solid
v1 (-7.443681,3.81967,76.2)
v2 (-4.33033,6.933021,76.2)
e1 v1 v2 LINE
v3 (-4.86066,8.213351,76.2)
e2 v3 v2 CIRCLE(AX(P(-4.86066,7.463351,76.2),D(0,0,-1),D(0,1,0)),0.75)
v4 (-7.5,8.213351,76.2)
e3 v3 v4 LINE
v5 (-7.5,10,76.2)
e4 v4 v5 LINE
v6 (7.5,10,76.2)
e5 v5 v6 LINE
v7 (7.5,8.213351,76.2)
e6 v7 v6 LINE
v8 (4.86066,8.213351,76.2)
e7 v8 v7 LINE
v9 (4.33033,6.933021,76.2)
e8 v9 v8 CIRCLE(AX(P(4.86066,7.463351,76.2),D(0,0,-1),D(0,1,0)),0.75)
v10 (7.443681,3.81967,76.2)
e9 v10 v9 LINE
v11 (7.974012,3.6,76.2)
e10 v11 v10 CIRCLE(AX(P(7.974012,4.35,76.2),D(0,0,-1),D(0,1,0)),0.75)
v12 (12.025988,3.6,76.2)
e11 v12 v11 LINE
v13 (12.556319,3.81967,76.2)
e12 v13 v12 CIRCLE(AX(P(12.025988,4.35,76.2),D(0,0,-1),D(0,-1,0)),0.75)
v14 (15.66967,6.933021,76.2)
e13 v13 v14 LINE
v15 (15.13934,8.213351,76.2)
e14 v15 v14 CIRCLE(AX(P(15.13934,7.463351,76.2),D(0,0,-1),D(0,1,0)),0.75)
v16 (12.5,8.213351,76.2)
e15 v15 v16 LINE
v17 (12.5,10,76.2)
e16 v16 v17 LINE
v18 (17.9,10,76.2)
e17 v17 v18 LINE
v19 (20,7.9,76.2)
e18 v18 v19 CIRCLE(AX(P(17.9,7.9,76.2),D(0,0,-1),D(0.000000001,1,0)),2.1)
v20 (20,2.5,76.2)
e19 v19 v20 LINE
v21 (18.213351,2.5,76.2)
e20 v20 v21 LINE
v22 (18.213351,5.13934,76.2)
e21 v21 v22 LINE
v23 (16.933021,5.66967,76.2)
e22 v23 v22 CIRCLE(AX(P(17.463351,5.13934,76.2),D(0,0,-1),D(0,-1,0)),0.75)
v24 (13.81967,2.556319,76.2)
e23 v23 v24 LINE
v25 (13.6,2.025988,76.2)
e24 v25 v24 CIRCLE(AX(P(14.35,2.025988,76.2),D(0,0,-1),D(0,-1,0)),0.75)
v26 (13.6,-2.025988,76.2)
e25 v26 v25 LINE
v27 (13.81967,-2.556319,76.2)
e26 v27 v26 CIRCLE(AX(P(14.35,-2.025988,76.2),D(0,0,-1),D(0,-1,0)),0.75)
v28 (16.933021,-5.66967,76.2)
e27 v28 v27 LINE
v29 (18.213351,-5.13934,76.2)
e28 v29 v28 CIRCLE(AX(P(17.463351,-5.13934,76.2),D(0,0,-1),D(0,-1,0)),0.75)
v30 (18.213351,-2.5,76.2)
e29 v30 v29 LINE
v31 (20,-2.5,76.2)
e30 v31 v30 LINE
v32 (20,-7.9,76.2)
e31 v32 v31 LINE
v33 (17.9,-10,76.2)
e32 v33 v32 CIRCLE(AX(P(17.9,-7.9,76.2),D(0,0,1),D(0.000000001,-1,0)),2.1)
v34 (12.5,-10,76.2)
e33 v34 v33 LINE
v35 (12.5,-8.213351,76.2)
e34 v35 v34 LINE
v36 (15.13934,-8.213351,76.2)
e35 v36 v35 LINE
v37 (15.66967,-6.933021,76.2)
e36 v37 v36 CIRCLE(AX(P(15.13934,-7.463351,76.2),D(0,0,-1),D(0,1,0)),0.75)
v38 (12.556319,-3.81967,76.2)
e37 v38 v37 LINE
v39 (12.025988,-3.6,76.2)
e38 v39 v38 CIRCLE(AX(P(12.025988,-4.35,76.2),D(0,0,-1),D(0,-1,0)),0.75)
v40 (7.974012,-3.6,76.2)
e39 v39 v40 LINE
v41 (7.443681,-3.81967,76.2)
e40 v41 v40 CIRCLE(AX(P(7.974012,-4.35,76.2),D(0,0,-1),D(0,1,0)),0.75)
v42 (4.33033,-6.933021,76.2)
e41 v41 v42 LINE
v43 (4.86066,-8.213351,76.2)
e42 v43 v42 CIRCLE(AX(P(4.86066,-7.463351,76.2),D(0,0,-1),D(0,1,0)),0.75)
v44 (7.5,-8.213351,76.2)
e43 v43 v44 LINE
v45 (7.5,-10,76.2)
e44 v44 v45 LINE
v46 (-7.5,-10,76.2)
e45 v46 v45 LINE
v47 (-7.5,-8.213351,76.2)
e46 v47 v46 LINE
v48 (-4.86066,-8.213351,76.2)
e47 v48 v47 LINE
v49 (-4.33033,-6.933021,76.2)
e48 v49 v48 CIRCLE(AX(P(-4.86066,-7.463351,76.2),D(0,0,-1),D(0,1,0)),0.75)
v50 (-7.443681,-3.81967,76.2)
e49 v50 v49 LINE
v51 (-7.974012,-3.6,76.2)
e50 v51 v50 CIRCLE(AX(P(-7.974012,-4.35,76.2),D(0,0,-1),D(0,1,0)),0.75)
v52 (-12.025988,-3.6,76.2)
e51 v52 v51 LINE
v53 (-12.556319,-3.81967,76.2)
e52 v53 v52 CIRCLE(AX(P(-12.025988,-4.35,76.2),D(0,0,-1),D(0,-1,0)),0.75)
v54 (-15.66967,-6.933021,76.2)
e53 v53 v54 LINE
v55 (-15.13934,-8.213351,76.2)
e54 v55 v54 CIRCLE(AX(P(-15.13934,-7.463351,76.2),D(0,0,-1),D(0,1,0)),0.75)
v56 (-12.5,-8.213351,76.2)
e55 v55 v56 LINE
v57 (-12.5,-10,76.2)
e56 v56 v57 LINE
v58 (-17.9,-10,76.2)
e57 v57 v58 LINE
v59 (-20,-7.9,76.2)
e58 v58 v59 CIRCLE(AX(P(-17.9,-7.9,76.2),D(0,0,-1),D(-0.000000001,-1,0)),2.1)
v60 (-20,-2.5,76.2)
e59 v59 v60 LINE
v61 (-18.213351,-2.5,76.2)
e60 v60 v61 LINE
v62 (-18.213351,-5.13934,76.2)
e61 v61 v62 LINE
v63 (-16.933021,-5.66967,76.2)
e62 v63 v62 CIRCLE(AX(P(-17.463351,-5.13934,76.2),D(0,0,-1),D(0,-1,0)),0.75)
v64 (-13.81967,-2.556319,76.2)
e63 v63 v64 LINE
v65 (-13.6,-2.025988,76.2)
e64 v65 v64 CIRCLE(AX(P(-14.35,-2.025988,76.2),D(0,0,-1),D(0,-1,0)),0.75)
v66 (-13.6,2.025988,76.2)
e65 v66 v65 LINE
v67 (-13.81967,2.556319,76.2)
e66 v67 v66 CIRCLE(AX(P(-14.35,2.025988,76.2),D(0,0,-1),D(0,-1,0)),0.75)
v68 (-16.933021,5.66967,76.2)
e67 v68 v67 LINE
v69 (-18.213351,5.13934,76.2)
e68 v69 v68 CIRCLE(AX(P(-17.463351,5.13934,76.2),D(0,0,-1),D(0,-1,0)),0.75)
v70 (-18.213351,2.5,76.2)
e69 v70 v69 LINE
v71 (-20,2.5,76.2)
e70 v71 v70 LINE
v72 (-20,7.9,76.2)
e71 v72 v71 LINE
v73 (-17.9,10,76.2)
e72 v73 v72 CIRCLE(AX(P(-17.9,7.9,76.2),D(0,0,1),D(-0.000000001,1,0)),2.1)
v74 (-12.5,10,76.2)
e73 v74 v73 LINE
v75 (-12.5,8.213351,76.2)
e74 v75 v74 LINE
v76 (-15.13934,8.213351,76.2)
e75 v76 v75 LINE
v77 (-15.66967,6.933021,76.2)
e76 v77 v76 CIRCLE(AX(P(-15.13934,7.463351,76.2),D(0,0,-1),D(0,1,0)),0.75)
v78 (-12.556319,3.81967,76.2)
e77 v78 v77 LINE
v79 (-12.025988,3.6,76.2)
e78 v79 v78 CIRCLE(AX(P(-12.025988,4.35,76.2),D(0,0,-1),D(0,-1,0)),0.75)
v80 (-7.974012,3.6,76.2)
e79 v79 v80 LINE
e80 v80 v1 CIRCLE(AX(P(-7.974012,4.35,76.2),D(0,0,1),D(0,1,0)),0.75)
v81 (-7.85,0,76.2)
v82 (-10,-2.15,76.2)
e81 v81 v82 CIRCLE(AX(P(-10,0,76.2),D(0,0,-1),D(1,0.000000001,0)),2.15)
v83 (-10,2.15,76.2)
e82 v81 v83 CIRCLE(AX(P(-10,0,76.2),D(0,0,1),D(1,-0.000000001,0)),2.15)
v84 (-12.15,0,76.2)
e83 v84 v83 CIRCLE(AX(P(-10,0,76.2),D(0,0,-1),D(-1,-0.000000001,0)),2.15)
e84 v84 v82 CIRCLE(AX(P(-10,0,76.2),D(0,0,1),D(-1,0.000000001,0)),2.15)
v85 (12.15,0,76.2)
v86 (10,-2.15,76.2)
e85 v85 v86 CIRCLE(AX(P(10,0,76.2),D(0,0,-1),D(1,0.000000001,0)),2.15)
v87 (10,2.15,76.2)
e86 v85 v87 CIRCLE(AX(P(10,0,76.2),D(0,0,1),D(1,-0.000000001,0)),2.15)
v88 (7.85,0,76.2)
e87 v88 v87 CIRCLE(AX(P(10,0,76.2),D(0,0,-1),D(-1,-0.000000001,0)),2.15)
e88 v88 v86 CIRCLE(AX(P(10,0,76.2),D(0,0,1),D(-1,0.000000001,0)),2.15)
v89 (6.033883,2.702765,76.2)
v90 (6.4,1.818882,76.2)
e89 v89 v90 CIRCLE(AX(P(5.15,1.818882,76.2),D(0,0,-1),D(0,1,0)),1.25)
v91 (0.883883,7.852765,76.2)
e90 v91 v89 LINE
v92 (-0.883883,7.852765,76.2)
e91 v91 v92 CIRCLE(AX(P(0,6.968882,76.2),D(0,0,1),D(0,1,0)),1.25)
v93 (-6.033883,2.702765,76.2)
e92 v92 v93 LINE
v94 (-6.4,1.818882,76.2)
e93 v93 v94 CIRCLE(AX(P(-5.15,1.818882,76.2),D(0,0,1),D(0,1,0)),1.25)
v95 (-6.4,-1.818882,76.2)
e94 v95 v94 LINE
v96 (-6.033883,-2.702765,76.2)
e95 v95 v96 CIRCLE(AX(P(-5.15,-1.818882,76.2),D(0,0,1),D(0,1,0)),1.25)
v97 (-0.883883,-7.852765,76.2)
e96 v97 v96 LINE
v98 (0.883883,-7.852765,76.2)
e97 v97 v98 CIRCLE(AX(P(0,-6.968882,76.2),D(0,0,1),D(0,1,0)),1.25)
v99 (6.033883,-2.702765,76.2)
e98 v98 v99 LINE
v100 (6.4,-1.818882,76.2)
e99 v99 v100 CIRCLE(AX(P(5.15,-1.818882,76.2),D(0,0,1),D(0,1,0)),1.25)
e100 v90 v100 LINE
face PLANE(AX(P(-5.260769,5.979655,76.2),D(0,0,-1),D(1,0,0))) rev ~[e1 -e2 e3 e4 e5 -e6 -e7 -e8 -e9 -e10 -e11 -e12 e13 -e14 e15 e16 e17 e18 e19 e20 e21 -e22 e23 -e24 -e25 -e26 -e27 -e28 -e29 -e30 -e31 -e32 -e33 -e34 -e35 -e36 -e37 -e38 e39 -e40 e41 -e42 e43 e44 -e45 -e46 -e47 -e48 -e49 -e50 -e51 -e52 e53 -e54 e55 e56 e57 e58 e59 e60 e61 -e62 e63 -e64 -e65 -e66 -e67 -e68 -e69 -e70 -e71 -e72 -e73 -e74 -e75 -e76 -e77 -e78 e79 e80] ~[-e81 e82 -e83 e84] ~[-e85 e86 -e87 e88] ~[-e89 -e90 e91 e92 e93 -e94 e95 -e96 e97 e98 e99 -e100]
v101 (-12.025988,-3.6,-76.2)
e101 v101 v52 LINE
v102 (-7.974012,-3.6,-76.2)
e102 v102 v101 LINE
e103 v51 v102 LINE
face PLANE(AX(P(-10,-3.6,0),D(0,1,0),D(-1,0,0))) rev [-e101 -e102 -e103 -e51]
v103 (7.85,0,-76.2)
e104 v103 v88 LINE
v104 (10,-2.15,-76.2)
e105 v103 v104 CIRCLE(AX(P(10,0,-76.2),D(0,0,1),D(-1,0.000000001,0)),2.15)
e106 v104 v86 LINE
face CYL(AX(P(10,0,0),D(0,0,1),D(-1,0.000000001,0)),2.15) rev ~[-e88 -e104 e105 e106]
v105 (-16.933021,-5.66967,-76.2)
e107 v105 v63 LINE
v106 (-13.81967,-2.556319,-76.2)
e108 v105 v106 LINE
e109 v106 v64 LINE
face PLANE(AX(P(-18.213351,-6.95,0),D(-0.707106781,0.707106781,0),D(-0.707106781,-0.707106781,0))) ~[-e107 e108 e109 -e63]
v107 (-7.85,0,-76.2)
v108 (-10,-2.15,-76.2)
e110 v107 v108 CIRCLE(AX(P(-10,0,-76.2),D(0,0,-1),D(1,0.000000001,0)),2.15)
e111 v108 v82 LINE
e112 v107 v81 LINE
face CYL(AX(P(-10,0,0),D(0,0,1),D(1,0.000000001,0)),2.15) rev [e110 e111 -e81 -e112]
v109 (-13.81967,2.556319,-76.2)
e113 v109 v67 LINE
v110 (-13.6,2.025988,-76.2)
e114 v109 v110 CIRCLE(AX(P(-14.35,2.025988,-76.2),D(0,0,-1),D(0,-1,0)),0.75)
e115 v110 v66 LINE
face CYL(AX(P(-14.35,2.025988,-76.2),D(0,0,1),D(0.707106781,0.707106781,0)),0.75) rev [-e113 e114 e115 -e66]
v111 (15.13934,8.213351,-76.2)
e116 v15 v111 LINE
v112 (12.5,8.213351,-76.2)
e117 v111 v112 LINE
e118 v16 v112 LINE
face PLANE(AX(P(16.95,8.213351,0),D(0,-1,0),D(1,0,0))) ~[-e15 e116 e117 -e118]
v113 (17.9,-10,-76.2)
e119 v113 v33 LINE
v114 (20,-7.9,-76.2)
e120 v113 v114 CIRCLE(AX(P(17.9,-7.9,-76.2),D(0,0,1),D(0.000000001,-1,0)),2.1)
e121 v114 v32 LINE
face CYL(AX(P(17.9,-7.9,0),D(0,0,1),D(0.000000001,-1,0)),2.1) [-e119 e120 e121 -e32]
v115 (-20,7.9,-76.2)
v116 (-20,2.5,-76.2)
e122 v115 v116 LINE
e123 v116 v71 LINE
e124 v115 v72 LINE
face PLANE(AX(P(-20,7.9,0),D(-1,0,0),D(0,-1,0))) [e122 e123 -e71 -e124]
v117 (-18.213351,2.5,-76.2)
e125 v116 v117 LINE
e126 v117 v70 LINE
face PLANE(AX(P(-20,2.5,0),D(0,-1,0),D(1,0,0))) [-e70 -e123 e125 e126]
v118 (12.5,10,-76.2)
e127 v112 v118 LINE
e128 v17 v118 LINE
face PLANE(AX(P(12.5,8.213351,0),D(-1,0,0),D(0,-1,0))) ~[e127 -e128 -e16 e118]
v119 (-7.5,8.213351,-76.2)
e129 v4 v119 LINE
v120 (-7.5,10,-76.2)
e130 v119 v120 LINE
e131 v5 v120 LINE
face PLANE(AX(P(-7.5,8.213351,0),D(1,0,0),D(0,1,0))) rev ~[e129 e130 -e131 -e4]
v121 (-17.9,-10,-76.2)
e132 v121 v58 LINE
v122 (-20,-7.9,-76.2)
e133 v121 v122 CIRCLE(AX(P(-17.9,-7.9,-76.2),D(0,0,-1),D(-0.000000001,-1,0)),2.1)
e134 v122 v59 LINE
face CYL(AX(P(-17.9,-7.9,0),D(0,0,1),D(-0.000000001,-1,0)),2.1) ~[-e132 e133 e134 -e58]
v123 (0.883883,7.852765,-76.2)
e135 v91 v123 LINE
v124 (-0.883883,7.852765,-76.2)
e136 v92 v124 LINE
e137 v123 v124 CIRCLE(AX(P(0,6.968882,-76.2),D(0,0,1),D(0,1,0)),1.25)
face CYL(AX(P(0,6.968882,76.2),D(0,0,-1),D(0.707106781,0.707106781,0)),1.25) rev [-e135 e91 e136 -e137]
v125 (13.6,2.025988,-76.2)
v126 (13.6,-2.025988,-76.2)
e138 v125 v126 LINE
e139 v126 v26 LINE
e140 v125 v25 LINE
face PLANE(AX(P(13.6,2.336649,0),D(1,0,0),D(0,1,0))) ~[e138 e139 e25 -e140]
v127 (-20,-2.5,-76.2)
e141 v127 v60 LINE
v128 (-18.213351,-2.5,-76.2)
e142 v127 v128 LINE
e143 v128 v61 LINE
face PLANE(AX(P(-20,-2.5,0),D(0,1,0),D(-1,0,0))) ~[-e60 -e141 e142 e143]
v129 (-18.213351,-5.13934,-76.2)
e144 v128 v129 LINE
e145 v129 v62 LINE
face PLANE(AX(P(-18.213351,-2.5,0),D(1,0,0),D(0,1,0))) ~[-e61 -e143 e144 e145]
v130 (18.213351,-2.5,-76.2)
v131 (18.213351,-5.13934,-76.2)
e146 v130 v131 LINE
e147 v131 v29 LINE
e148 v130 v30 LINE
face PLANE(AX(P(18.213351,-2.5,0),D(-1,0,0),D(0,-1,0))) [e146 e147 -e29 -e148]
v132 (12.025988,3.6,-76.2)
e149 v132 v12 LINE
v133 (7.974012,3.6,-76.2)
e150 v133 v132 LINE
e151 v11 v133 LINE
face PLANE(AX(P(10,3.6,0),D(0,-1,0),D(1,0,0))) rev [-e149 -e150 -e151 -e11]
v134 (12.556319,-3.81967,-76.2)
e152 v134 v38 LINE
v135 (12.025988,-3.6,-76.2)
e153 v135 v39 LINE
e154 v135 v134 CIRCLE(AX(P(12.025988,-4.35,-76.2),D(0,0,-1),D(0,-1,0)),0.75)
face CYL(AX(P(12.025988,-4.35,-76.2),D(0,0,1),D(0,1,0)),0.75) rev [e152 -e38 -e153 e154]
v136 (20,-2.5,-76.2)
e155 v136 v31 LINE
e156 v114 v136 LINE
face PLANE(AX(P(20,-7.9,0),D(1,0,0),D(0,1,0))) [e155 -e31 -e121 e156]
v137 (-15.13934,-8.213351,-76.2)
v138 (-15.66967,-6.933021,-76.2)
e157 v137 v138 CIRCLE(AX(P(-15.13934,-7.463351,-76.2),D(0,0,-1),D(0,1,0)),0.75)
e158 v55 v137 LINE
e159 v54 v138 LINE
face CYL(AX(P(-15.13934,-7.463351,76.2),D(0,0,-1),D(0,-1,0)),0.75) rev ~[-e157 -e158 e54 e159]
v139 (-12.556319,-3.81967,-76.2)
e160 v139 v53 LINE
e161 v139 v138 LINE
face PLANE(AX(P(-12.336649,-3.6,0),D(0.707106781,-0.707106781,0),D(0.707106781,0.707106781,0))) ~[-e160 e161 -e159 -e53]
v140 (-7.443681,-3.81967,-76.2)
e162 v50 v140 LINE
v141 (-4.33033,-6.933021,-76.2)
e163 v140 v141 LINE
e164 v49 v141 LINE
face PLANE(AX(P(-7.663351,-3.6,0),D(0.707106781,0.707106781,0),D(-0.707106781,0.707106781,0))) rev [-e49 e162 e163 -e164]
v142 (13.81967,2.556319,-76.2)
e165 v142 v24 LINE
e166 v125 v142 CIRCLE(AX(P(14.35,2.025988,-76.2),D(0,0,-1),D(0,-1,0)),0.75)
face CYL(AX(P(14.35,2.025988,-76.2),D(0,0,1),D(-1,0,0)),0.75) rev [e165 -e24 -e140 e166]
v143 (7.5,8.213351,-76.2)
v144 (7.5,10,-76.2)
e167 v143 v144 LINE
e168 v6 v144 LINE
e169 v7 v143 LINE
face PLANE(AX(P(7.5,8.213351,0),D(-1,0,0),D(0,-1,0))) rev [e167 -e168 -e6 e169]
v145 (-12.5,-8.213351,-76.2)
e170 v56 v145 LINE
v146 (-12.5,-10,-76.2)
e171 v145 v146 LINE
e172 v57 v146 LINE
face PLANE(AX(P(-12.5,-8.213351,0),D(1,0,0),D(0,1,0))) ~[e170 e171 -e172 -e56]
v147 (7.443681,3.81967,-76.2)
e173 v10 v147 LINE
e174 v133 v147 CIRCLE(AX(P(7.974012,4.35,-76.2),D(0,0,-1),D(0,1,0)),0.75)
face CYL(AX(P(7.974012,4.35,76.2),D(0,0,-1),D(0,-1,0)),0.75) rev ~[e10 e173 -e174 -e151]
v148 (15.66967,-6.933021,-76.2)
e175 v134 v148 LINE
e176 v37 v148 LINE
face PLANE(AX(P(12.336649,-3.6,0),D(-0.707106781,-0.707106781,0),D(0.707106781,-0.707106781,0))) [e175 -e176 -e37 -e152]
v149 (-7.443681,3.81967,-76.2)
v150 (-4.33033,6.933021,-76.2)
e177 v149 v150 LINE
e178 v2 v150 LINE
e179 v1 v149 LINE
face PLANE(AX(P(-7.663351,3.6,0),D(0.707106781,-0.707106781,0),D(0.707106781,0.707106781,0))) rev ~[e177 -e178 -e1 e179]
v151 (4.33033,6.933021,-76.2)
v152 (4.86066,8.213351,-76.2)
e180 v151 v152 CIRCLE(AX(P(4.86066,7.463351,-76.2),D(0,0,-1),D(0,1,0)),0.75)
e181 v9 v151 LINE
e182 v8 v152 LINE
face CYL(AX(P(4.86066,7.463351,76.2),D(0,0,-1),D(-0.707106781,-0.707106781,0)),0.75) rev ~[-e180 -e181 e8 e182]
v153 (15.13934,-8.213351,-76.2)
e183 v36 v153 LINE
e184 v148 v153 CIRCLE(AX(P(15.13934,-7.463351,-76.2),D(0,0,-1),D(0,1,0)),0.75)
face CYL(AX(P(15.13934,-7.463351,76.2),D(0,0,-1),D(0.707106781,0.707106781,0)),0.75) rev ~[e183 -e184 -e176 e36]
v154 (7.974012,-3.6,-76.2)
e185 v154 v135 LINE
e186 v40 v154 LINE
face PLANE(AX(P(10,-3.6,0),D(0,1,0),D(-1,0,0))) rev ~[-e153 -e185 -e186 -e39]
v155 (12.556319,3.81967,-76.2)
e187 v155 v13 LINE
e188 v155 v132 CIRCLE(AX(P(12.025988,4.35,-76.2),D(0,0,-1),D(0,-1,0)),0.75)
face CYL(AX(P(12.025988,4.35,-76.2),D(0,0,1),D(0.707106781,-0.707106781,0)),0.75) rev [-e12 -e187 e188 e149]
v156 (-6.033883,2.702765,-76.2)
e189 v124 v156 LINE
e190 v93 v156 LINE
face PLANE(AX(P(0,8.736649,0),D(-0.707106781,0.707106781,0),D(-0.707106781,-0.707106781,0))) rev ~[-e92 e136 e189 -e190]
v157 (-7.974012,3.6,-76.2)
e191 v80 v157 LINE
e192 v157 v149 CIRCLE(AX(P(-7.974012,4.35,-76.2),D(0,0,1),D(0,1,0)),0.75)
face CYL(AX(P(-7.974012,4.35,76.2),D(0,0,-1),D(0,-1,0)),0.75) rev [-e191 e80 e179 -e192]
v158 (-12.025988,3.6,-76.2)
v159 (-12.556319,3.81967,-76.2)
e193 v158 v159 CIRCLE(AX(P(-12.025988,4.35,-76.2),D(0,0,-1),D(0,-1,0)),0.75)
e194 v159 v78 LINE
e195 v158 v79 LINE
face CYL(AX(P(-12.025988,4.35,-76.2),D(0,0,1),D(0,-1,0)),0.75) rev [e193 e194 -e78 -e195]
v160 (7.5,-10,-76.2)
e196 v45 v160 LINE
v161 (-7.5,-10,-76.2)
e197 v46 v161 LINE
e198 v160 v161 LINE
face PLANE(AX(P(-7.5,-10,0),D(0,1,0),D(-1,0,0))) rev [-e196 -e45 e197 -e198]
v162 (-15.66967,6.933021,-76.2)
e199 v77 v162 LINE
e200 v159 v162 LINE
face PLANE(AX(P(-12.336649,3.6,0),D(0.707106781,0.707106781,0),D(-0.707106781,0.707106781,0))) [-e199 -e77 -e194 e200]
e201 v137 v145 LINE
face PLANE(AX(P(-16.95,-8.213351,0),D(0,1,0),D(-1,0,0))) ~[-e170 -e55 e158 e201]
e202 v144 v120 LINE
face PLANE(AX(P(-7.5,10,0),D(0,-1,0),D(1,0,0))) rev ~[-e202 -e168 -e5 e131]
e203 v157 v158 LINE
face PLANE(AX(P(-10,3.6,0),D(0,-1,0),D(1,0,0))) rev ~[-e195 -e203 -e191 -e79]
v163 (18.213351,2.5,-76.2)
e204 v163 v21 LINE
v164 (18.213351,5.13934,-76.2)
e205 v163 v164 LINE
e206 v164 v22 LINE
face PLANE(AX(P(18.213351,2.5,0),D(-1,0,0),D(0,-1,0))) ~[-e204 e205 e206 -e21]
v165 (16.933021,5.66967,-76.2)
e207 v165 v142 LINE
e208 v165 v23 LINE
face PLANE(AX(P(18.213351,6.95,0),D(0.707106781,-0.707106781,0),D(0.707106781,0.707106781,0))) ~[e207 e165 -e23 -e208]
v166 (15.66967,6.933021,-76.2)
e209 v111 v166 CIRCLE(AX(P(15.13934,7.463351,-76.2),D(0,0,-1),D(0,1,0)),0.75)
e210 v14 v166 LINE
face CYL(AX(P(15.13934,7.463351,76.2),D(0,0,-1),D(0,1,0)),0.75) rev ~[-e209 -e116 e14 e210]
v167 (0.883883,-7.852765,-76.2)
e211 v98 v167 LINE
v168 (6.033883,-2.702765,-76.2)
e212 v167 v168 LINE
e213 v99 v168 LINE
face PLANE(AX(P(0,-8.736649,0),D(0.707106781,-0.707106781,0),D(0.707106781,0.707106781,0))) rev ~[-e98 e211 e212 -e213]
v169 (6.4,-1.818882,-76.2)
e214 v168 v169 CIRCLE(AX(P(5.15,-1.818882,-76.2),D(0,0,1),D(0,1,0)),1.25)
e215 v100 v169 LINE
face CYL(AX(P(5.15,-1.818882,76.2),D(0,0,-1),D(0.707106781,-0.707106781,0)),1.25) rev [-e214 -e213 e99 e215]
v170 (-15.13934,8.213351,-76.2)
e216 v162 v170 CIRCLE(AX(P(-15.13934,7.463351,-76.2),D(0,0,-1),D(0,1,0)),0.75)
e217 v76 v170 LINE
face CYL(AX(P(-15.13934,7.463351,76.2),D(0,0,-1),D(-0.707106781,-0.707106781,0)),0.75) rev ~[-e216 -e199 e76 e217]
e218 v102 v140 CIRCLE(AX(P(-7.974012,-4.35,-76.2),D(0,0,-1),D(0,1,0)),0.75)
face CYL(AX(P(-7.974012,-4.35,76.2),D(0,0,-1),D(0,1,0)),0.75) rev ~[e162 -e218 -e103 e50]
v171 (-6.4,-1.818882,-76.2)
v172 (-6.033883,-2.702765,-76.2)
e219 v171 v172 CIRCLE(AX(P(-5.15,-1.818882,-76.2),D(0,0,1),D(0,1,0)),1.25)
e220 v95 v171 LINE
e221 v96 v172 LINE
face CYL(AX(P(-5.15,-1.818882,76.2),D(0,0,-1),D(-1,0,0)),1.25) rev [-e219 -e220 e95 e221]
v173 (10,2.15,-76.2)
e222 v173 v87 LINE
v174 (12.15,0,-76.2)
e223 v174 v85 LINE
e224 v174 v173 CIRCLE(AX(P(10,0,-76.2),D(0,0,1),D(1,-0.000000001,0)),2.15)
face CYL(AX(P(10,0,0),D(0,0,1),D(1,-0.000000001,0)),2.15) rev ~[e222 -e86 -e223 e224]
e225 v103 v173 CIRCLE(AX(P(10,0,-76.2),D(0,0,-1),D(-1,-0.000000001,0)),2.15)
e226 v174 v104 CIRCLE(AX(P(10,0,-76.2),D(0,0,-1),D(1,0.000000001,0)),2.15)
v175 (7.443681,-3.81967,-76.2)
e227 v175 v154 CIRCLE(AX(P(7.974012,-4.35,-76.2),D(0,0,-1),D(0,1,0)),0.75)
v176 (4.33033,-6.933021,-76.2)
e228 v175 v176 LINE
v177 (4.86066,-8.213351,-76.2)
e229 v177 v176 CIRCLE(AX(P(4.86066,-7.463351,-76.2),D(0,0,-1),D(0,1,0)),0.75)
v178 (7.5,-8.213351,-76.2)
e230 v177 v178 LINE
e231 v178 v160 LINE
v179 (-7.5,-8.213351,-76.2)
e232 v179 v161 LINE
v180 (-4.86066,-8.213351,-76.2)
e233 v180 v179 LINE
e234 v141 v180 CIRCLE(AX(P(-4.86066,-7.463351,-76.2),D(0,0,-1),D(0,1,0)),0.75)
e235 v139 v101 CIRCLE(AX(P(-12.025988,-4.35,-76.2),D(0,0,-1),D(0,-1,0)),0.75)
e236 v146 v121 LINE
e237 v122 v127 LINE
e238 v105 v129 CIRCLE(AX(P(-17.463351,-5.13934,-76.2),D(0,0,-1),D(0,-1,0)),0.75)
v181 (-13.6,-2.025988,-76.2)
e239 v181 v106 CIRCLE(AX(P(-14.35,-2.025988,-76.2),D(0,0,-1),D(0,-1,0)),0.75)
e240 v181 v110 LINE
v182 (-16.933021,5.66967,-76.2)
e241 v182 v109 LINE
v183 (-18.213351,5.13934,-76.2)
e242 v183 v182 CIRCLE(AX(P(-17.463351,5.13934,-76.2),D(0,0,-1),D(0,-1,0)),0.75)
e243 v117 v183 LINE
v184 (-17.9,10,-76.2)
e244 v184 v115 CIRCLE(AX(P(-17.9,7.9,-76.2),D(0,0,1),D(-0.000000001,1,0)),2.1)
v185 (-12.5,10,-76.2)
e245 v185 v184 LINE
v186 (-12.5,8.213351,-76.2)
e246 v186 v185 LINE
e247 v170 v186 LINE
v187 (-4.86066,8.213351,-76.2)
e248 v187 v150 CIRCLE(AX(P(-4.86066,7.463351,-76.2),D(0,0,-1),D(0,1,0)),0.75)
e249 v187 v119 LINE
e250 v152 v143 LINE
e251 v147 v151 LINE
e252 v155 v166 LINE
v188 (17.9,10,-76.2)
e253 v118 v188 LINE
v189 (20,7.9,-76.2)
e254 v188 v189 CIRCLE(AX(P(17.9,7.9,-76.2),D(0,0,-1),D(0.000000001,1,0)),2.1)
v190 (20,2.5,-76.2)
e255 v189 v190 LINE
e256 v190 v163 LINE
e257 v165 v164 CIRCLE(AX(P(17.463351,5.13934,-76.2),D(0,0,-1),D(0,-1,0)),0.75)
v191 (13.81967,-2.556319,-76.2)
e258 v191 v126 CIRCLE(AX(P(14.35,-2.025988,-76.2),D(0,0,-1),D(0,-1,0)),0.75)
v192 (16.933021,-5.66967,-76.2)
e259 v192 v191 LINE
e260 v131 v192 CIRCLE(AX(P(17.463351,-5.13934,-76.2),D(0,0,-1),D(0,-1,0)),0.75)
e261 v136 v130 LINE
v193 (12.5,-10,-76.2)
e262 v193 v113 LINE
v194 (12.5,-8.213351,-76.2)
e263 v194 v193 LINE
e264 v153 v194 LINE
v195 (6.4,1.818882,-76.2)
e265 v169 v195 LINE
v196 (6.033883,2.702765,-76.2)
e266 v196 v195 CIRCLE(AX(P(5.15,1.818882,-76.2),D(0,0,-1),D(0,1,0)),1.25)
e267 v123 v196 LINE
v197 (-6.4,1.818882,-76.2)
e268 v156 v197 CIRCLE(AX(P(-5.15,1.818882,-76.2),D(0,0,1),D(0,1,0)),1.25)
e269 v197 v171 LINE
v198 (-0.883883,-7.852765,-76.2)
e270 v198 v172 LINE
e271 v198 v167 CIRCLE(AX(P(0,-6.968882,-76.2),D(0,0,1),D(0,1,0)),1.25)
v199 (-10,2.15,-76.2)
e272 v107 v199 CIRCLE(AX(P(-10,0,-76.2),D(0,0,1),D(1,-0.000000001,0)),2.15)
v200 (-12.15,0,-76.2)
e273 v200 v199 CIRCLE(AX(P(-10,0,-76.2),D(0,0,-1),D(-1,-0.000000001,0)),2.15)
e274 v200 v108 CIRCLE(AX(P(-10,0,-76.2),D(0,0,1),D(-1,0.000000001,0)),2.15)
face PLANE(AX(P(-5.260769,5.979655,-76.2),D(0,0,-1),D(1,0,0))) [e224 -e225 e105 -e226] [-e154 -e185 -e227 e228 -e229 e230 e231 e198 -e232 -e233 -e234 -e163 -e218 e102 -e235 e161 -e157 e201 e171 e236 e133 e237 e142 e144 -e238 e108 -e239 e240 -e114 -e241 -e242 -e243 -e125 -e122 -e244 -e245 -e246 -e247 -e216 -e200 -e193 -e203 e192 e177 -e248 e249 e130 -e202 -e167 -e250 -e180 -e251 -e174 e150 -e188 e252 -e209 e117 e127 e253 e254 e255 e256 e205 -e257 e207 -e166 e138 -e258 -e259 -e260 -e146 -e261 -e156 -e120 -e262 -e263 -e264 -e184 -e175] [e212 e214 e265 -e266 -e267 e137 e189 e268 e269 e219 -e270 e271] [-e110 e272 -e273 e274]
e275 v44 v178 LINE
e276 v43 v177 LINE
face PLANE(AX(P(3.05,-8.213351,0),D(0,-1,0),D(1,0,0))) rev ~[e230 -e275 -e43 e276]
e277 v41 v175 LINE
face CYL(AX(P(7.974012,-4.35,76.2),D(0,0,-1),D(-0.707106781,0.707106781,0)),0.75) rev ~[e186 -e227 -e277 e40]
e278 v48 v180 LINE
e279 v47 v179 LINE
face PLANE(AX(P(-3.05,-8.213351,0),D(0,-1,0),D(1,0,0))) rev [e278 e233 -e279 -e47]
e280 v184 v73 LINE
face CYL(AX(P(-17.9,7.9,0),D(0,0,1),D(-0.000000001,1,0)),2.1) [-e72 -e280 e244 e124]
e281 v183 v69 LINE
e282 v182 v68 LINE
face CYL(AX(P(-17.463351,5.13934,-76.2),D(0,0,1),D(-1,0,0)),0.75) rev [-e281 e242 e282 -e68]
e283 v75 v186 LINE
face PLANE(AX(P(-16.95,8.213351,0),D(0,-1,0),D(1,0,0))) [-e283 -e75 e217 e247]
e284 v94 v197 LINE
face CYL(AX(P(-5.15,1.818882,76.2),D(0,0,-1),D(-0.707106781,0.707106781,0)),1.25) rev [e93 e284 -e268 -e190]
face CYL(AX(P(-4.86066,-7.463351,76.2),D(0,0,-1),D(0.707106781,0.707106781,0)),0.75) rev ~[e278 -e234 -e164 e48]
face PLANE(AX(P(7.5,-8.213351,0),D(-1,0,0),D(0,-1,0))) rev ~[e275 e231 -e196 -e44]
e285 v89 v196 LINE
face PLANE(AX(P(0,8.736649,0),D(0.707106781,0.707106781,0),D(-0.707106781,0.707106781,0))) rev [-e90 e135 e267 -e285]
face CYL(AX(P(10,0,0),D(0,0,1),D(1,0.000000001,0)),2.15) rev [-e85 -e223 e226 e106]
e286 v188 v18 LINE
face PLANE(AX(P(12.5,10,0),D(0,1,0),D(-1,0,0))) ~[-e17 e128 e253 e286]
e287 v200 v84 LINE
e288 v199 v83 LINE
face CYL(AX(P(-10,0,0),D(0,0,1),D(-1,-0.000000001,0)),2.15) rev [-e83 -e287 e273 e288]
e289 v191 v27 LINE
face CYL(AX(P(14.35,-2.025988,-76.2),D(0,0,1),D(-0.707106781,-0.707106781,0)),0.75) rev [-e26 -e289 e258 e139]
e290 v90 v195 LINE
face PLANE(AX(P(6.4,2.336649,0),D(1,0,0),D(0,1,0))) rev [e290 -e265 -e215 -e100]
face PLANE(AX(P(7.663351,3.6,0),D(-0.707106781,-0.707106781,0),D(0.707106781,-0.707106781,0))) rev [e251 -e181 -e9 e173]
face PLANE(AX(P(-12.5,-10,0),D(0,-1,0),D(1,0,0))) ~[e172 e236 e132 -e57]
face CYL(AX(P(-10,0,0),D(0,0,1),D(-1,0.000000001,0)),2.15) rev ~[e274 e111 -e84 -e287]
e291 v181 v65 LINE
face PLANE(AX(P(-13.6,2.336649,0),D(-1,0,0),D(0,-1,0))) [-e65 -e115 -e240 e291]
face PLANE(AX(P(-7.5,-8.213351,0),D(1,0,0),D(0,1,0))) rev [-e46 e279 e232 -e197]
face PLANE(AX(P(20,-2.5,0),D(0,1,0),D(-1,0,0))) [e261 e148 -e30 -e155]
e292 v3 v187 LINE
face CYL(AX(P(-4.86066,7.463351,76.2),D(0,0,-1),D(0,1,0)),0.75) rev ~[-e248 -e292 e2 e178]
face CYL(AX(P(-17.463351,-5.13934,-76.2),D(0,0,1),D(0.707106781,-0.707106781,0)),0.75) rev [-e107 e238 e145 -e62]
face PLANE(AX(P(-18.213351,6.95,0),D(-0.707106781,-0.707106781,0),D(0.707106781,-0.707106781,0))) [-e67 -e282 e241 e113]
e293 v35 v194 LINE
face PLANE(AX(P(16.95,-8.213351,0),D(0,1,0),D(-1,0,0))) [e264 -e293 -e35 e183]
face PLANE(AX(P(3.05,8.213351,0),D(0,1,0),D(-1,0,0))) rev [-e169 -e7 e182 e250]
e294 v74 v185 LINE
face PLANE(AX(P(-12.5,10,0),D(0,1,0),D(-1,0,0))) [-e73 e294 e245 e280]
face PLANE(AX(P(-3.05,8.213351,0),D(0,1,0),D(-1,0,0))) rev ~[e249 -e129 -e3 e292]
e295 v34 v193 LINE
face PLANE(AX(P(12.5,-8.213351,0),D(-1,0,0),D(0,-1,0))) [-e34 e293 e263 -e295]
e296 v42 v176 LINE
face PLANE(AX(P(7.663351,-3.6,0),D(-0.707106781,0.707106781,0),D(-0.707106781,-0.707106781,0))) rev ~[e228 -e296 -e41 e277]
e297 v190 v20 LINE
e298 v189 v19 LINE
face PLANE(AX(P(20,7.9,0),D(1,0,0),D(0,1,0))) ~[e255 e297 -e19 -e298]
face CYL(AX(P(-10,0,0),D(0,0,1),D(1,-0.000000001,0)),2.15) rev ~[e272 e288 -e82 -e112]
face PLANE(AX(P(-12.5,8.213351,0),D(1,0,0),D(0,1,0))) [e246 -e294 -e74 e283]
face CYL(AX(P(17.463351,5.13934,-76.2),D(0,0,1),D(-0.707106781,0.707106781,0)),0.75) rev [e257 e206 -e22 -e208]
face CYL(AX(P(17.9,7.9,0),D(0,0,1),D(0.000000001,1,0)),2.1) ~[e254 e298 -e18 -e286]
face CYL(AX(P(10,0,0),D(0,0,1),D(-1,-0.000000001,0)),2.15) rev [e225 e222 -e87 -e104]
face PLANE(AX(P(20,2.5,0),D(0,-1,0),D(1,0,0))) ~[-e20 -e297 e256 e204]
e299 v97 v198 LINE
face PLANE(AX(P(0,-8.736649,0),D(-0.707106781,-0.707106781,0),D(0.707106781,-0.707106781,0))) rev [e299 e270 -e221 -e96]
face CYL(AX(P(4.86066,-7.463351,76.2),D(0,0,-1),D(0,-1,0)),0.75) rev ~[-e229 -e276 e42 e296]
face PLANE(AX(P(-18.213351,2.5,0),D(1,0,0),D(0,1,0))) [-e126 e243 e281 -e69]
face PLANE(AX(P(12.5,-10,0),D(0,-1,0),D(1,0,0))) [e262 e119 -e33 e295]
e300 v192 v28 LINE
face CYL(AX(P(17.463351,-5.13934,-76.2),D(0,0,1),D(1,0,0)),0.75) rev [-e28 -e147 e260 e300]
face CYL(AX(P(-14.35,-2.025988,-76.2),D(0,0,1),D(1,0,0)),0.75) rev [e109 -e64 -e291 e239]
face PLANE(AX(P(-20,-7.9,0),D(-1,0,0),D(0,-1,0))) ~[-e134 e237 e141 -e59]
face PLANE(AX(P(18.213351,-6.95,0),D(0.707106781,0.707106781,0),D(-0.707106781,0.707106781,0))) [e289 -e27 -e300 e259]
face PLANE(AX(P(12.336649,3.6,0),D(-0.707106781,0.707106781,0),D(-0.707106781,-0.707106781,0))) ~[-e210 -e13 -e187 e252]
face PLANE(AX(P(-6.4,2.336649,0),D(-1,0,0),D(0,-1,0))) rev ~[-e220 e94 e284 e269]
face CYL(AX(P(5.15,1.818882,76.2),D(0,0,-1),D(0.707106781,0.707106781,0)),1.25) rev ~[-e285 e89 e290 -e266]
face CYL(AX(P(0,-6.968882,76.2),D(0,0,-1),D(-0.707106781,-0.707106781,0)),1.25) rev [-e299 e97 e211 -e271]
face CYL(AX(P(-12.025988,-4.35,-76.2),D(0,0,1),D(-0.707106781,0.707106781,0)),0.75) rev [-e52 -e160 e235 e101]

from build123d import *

# Parameters (mm, degrees)
BOSS_EXTRUDE1_DEPTH = 76.2
BOSS_EXTRUDE2_DEPTH = 76.2
FILLET1_R           = 0.75
FILLET2_R           = 1.25


with BuildPart() as part:
    # Sketch3 → Boss-Extrude1 (new, symmetric)
    with BuildSketch(Plane.XY):
        with BuildLine():
            Line((12.5, -10), (17.9, -10))
            ThreePointArc((17.9, -10), (19.38492424, -9.38492424), (20, -7.9))
            Line((20, -7.9), (20, -2.5))
            Line((20, -2.5), (18.213351365, -2.5))
            Line((18.213351365, -2.5), (18.213351365, -6.95))
            Line((18.213351365, -6.95), (13.6, -2.336648635))
            Line((13.6, -2.336648635), (13.6, 0))
            Line((13.6, 0), (12.15, 0))
            ThreePointArc((12.15, 0), (11.52027958, -1.52027958), (10, -2.15))
            Line((10, -2.15), (10, -3.6))
            Line((10, -3.6), (12.336648635, -3.6))
            Line((12.336648635, -3.6), (16.95, -8.213351365))
            Line((16.95, -8.213351365), (12.5, -8.213351365))
            Line((12.5, -8.213351365), (12.5, -10))
        make_face()
    extrude(amount=BOSS_EXTRUDE1_DEPTH, both=True)

    # Sketch4 → Boss-Extrude2 (add, symmetric)
    with BuildSketch(Plane.XY):
        with BuildLine():
            Line((10, -3.6), (7.663351365, -3.6))
            Line((7.663351365, -3.6), (3.05, -8.213351365))
            Line((3.05, -8.213351365), (7.5, -8.213351365))
            Line((7.5, -8.213351365), (7.5, -10))
            Line((7.5, -10), (0, -10))
            Line((0, -10), (0, -8.736648635))
            Line((0, -8.736648635), (6.4, -2.336648635))
            Line((6.4, -2.336648635), (6.4, 0))
            Line((6.4, 0), (7.85, 0))
            ThreePointArc((7.85, 0), (8.47972042, -1.52027958), (10, -2.15))
            Line((10, -2.15), (10, -3.6))
        make_face()
    extrude(amount=BOSS_EXTRUDE2_DEPTH, both=True)

    # Mirror1: part across plane


with BuildPart() as part_1:
    add(part.part)
    add(part.part.mirror(Plane(origin=(0, 0, 0), x_dir=(0, 0, 1), z_dir=(1, 0, 0))))

    # Mirror2: part across plane


with BuildPart() as part_2:
    add(part_1.part)
    add(part_1.part.mirror(Plane.ZX))

    # Fillet1
    fillet1_edges = [part_2.edges().sort_by_distance(p)[0] for p in [
        (18.213351365, 6.95, 0),
        (13.6, 2.336648635, 0),
        (12.336648635, 3.6, 0),
        (16.95, 8.213351365, 0),
        (3.05, 8.213351365, 0),
        (7.663351365, 3.6, 0),
        (-18.213351365, 6.95, 0),
        (-13.6, 2.336648635, 0),
        (-7.663351365, 3.6, 0),
        (-12.336648635, 3.6, 0),
        (-16.95, 8.213351365, 0),
        (-3.05, 8.213351365, 0),
        (16.95, -8.213351365, 0),
        (12.336648635, -3.6, 0),
        (13.6, -2.336648635, 0),
        (18.213351365, -6.95, 0),
        (3.05, -8.213351365, 0),
        (7.663351365, -3.6, 0),
        (-18.213351365, -6.95, 0),
        (-13.6, -2.336648635, 0),
        (-12.336648635, -3.6, 0),
        (-16.95, -8.213351365, 0),
        (-3.05, -8.213351365, 0),
        (-7.663351365, -3.6, 0),
    ]]
    fillet(fillet1_edges, radius=FILLET1_R)

    # Fillet2
    fillet2_edges = [part_2.edges().sort_by_distance(p)[0] for p in [
        (6.4, 2.336648635, 0),
        (0, 8.736648635, 0),
        (-6.4, 2.336648635, 0),
        (6.4, -2.336648635, 0),
        (-6.4, -2.336648635, 0),
        (0, -8.736648635, 0),
    ]]
    fillet(fillet2_edges, radius=FILLET2_R)


solid = part_2.part
